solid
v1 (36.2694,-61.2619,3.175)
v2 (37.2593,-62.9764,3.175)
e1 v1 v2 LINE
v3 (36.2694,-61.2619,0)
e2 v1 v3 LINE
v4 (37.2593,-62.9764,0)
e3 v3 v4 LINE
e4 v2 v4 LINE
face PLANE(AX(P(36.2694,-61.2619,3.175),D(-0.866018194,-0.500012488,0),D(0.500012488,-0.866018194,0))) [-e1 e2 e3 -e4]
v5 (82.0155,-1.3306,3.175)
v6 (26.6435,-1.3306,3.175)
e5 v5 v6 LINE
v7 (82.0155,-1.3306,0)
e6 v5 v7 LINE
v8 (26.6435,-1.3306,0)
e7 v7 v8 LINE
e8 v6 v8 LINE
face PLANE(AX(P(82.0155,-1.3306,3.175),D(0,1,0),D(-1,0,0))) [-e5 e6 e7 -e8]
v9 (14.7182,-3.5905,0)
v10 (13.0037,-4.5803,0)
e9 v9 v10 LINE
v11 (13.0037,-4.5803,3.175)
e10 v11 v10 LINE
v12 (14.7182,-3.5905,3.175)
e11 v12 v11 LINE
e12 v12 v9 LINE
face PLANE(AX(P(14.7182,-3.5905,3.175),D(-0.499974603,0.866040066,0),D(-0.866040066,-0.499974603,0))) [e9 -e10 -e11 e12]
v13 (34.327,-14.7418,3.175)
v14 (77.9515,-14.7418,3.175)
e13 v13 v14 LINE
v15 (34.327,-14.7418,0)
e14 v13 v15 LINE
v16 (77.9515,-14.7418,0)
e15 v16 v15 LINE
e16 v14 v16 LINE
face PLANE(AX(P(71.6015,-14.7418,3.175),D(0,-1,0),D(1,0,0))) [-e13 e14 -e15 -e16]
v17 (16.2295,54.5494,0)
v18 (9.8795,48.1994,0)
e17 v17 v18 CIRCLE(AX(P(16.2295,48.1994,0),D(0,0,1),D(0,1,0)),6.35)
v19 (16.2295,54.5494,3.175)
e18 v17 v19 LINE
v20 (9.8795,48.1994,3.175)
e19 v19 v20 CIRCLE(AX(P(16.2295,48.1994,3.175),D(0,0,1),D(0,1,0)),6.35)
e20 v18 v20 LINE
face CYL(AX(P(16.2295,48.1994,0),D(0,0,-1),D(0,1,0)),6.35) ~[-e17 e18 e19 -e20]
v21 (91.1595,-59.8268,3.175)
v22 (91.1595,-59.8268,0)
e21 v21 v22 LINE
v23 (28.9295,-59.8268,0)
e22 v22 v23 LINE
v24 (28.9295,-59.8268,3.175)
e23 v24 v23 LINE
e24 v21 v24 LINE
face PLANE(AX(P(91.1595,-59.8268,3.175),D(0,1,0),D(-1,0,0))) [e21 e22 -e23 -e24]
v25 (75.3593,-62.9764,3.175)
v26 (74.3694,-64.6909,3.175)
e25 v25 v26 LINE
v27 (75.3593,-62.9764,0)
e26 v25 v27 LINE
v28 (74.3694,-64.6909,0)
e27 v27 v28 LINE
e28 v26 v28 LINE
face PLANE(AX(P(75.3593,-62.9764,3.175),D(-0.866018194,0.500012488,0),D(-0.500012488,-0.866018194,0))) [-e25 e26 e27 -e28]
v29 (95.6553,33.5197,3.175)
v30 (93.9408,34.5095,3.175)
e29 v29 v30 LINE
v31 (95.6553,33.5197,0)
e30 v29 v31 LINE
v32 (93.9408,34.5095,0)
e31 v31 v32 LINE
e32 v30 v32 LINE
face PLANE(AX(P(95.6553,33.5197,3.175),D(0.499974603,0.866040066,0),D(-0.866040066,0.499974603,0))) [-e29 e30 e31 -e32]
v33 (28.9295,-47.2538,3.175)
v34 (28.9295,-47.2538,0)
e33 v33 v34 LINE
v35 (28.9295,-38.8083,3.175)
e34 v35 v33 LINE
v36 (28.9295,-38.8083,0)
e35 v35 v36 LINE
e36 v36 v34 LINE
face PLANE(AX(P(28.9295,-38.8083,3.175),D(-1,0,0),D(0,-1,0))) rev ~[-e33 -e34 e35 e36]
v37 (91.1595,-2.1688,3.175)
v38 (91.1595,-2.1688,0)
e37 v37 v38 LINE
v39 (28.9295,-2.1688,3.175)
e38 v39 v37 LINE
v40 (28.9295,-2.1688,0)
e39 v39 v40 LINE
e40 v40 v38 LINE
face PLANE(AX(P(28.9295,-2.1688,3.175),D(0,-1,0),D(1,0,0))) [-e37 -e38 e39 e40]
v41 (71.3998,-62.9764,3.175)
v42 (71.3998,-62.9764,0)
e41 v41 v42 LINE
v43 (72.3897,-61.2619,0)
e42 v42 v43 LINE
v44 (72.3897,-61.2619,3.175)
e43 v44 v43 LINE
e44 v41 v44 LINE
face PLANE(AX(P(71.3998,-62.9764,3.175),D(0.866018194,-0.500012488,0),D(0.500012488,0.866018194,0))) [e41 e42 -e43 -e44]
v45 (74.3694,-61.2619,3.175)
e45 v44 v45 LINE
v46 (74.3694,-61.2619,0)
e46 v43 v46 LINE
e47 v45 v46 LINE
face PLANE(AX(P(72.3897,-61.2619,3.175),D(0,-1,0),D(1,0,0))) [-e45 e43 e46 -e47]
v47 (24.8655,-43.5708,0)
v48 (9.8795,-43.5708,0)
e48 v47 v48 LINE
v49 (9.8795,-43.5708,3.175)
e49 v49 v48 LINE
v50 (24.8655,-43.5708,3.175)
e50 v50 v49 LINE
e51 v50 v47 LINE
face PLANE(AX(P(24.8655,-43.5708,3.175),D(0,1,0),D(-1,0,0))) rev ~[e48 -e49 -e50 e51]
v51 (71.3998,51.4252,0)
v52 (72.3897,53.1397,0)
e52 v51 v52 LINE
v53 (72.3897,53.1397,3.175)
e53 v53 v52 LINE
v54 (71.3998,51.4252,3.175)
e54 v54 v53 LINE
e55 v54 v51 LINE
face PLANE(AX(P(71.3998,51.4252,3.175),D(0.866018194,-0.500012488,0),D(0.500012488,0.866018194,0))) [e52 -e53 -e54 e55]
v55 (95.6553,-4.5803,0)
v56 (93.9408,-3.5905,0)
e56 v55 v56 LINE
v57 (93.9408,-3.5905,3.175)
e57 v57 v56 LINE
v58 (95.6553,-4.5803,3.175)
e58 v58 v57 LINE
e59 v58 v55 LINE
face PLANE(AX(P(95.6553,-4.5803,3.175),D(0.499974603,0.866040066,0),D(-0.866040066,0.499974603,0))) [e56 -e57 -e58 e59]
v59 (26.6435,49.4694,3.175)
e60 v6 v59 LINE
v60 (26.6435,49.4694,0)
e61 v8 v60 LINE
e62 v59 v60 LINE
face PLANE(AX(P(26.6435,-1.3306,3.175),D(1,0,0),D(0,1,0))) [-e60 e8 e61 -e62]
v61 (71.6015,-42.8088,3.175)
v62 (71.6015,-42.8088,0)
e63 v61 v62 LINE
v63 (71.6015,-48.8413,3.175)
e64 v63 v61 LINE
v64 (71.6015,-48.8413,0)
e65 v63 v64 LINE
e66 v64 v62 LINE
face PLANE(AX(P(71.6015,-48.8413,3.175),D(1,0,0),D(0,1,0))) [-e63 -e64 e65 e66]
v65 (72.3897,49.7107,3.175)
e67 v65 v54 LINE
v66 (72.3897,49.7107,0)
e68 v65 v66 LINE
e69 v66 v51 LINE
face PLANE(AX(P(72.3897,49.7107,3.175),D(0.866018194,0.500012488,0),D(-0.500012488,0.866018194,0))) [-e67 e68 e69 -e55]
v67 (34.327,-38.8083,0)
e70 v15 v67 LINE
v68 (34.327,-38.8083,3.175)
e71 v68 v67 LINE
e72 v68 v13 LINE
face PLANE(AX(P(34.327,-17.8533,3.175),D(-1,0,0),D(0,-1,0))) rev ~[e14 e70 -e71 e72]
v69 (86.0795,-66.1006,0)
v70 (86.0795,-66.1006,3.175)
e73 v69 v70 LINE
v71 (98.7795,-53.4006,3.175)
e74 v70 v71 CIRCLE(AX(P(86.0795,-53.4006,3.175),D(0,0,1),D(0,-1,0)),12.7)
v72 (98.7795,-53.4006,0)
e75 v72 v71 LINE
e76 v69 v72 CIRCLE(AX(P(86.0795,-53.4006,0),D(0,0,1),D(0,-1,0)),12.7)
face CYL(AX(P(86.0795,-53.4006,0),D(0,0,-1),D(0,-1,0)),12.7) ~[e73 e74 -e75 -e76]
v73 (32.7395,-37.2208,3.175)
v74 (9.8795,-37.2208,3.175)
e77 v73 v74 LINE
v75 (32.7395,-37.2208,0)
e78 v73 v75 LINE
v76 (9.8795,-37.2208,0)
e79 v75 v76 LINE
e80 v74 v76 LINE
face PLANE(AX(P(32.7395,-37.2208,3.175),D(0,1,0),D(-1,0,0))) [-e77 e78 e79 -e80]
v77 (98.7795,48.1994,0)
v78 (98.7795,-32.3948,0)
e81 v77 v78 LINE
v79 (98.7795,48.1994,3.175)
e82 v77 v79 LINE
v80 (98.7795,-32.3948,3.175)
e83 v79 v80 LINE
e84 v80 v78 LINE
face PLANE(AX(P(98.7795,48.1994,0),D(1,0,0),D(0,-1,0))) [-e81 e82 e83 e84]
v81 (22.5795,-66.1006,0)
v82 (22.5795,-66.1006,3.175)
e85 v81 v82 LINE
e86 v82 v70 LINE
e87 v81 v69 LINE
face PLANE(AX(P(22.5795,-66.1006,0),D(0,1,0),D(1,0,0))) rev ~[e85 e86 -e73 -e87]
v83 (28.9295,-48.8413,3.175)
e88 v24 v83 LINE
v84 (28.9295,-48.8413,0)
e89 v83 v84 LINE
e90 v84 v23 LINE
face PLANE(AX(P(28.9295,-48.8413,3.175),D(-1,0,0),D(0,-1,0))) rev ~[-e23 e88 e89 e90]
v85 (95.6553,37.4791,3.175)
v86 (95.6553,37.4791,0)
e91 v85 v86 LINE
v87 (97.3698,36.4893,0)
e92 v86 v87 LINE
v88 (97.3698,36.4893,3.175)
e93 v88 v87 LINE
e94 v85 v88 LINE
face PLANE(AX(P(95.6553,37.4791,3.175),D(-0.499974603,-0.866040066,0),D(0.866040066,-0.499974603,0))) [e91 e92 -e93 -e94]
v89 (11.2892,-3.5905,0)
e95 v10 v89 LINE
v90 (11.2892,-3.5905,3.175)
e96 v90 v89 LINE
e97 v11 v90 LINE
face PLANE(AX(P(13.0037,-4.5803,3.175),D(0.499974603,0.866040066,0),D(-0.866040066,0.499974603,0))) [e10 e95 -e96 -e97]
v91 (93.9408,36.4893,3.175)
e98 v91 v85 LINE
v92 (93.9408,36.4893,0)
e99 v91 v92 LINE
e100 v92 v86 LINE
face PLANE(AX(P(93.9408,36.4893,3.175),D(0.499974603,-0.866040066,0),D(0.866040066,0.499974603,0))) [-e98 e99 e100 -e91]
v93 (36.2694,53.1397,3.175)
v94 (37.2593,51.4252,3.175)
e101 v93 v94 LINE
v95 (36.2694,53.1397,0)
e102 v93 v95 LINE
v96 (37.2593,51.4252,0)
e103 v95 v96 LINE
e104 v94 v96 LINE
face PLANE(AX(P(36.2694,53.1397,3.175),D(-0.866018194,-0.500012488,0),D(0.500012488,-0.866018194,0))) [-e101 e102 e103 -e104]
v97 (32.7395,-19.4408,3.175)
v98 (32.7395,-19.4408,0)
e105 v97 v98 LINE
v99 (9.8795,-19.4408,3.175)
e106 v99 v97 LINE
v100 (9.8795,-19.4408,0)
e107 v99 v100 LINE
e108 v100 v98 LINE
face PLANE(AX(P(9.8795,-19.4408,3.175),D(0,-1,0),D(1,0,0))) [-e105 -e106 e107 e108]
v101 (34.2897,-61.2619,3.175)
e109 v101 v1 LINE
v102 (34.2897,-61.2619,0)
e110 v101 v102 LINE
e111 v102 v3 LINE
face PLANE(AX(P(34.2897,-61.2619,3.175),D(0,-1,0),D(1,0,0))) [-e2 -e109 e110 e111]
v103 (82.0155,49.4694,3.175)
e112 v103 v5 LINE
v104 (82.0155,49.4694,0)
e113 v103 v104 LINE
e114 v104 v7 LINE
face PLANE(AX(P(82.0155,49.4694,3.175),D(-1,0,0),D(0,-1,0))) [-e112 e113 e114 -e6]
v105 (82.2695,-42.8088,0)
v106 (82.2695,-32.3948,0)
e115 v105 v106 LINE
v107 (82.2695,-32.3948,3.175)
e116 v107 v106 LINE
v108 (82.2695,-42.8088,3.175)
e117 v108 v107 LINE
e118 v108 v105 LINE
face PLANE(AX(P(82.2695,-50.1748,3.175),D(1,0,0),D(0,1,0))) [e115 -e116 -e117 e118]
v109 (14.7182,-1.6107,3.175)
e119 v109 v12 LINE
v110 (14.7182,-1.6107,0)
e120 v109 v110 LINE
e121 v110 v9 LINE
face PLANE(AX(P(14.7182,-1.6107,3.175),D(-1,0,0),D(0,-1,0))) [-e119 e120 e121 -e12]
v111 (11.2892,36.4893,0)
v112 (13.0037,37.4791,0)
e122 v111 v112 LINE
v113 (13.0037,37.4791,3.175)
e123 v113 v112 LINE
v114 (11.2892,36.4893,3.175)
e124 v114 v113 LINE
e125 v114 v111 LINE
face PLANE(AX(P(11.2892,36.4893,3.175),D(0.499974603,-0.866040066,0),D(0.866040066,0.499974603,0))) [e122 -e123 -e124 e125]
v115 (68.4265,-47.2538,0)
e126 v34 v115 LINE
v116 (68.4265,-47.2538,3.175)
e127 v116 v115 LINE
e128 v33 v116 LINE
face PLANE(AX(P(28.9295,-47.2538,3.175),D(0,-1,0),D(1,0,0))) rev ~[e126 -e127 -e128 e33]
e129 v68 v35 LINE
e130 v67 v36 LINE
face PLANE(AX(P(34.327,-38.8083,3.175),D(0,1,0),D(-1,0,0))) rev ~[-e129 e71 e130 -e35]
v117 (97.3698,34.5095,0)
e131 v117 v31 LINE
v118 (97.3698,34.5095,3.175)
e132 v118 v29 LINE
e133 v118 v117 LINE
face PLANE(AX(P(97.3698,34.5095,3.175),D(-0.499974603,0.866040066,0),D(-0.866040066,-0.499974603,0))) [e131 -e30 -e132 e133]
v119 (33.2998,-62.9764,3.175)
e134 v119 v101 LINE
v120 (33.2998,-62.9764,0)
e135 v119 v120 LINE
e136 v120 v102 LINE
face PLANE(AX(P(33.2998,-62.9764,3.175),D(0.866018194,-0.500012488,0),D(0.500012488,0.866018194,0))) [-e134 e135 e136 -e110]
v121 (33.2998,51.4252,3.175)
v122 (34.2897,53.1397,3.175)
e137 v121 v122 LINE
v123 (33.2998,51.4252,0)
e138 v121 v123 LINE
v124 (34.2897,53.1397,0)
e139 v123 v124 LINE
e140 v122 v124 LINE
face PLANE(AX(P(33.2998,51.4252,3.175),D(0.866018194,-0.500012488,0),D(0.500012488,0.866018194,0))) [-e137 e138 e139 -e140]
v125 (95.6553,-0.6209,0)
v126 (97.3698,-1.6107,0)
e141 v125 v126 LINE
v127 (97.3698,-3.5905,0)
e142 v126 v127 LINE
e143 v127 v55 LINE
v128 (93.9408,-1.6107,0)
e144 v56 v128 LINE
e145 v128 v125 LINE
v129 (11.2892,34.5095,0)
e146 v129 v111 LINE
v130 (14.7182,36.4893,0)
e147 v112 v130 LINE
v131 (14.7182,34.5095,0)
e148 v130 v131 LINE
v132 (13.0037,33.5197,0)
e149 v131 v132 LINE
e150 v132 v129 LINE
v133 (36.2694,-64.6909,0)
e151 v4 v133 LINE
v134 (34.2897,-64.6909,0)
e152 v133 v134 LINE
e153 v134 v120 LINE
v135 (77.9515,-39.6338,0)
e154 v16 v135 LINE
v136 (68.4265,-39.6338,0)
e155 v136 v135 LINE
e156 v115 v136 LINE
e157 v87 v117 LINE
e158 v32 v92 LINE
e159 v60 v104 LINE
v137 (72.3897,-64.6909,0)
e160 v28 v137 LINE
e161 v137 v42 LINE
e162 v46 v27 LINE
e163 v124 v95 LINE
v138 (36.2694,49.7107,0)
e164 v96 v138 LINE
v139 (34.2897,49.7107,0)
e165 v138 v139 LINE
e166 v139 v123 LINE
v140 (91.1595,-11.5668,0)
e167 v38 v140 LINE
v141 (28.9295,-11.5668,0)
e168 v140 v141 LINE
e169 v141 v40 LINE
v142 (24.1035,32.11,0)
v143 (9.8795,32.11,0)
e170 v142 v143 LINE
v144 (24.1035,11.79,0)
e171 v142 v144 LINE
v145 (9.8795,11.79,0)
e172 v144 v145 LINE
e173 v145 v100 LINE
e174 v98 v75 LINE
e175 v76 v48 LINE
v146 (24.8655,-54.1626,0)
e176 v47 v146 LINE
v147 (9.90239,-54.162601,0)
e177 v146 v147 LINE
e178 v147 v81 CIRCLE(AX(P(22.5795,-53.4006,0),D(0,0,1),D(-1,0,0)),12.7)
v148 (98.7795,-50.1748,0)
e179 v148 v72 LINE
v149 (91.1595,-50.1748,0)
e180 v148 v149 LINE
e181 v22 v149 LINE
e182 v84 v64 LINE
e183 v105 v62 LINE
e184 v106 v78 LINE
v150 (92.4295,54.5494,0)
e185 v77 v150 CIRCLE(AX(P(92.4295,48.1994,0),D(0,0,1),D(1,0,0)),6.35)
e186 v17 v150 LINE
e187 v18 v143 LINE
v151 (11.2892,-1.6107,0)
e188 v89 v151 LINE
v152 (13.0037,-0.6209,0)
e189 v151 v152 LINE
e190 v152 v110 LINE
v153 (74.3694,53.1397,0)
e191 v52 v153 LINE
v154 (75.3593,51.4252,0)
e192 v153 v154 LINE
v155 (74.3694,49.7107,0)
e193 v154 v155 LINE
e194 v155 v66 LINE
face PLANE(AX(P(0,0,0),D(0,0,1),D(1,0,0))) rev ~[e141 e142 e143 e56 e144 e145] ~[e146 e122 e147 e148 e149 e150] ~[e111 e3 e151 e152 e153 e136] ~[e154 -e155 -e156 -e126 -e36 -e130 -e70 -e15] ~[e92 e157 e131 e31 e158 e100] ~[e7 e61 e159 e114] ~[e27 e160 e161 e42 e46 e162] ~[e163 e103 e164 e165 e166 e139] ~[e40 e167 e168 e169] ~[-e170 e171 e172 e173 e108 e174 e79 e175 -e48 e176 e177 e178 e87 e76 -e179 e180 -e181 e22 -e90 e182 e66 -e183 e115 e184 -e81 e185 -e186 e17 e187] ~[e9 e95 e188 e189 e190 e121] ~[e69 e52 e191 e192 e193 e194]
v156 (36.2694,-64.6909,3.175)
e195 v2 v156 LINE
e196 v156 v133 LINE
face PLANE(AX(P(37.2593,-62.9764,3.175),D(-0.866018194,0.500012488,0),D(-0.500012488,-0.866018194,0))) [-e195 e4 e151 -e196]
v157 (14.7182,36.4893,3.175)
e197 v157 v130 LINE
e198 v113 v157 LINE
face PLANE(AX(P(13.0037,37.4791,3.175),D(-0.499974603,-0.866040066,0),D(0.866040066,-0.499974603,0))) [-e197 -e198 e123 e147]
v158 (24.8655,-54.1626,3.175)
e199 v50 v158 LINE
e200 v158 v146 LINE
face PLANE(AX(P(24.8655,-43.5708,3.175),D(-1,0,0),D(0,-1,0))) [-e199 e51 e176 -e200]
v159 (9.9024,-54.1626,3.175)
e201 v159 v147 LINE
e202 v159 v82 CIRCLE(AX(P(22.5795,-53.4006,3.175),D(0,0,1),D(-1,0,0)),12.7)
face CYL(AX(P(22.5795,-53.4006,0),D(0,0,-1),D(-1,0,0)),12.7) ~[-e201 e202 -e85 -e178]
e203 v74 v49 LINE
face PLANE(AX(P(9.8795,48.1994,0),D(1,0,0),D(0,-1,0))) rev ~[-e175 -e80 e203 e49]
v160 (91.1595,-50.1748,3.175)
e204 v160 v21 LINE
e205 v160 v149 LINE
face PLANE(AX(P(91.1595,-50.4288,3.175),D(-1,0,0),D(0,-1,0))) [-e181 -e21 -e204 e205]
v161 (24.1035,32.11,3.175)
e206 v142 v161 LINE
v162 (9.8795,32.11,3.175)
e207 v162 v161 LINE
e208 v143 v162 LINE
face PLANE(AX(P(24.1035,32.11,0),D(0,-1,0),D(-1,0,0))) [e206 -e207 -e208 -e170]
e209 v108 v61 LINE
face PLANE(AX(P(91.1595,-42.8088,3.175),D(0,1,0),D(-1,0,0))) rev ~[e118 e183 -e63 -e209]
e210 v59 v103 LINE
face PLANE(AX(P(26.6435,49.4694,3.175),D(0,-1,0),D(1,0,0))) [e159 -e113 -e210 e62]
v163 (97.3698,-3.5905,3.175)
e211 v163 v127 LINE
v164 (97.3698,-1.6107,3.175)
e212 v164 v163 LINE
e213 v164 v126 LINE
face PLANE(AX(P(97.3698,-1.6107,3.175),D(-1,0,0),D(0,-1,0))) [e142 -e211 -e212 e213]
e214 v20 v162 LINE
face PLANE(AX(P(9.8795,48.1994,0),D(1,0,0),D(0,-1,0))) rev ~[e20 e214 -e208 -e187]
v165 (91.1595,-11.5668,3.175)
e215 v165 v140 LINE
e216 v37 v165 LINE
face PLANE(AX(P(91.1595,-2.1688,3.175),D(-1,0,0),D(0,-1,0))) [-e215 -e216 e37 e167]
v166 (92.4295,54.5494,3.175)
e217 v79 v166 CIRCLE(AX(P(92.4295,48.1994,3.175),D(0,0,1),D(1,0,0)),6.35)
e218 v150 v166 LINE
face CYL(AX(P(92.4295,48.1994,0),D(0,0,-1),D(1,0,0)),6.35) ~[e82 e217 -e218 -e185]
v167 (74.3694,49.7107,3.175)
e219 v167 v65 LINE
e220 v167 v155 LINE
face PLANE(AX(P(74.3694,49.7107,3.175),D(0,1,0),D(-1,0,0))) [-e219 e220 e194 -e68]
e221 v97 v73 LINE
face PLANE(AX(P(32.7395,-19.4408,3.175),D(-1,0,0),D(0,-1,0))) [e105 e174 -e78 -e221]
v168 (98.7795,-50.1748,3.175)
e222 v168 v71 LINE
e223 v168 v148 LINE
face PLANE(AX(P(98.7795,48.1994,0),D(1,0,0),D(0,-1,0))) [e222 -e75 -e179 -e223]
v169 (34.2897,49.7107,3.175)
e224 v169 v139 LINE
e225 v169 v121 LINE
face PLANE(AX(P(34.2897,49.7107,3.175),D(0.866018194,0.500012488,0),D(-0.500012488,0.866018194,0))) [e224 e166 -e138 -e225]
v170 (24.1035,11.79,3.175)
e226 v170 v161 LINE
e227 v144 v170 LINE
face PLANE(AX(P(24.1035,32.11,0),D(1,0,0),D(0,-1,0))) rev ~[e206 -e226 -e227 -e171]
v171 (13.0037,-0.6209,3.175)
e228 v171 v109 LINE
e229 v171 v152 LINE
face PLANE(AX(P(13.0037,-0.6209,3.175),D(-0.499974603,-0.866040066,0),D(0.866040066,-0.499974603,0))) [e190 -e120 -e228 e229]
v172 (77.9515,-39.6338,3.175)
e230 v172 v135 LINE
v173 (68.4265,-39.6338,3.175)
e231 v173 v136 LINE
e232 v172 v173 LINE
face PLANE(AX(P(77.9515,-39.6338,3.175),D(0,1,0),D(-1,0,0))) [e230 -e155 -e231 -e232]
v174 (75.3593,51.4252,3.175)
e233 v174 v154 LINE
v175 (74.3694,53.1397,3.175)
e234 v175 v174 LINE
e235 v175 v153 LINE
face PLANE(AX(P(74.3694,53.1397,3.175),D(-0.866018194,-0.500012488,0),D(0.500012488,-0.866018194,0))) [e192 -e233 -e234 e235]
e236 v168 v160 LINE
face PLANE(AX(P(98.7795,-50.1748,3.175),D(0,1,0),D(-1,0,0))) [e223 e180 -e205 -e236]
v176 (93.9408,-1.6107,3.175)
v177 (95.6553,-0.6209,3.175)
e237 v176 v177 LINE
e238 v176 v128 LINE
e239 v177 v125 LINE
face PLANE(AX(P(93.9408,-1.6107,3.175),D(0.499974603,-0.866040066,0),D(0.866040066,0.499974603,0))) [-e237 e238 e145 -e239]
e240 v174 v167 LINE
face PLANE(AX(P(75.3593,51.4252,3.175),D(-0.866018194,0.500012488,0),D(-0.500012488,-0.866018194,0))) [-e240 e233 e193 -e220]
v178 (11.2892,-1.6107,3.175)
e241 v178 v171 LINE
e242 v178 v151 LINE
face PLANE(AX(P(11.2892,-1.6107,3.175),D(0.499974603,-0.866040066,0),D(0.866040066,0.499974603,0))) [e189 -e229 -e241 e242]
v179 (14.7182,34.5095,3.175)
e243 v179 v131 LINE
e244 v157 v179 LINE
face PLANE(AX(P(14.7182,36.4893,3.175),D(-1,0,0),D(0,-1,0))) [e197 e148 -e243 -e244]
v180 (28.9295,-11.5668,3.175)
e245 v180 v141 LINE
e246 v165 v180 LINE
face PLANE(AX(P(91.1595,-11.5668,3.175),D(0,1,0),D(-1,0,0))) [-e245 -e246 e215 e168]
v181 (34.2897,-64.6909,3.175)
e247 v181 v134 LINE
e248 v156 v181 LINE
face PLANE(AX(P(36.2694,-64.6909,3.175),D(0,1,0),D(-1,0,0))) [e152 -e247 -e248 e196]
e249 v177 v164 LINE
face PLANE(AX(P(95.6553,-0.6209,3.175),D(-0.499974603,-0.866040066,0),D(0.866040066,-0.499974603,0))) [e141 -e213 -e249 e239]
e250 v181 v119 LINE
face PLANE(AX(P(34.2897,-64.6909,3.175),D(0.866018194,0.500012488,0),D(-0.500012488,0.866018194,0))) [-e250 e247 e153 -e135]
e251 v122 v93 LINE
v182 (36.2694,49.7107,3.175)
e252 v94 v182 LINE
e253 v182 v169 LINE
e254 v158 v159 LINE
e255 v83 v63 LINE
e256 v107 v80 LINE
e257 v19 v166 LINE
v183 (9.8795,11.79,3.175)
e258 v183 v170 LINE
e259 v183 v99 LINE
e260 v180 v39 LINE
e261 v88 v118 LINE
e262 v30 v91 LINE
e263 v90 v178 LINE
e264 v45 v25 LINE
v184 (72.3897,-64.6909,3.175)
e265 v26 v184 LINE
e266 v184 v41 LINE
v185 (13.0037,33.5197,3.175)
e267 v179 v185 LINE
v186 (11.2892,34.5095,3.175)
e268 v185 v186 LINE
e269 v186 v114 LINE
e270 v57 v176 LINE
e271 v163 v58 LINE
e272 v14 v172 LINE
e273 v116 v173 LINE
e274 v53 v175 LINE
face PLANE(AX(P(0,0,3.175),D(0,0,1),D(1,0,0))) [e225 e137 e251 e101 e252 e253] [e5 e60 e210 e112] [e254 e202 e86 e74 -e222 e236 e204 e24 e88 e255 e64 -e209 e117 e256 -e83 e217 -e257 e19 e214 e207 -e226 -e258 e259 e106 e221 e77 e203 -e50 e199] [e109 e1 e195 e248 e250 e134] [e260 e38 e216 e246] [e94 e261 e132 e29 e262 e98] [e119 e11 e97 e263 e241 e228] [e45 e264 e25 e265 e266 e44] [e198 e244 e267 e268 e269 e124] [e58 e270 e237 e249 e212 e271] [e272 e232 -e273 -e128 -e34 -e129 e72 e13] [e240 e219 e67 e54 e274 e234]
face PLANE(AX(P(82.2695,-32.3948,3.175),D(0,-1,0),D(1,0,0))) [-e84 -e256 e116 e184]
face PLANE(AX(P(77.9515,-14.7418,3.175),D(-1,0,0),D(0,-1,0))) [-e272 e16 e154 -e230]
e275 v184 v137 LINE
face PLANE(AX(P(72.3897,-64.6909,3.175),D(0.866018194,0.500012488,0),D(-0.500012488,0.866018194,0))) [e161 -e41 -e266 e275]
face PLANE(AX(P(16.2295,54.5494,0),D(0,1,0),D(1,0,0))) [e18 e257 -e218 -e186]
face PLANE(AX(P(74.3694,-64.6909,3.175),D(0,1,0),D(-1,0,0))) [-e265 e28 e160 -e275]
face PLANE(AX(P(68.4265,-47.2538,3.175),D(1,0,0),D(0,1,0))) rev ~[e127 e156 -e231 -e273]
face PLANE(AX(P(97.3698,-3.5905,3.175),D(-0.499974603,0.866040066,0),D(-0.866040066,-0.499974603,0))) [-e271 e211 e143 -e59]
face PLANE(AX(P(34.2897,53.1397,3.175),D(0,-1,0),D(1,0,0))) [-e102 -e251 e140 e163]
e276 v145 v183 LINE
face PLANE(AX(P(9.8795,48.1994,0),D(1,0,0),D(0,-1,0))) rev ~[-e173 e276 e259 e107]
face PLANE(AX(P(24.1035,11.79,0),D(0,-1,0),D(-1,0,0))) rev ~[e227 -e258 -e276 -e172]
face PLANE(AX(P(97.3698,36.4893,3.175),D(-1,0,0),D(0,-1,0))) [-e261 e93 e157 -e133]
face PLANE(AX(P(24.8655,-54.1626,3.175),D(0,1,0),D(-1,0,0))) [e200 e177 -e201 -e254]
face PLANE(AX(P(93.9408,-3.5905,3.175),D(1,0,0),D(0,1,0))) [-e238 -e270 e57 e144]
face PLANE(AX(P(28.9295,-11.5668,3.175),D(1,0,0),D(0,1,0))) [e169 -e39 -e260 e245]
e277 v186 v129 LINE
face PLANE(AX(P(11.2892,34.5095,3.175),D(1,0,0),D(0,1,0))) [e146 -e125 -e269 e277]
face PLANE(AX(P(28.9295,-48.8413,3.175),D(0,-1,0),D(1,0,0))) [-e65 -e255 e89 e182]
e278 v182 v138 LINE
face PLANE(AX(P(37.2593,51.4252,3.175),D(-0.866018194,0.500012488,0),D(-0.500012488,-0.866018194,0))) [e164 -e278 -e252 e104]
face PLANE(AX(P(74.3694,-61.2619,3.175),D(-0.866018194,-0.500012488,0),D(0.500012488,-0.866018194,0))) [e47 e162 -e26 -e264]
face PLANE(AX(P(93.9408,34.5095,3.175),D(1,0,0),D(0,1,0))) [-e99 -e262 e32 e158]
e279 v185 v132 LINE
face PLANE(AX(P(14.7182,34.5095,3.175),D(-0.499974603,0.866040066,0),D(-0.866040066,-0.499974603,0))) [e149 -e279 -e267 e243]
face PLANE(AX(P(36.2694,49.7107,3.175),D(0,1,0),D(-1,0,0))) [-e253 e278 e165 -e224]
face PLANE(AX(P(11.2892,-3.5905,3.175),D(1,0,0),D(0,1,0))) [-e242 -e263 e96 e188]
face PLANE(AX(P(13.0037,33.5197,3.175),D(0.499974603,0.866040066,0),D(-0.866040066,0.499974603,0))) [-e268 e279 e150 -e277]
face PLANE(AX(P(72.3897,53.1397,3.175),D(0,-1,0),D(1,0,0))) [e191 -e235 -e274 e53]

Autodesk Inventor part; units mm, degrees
ref_plane "YZ Plane" through (0, 0, 0) normal (1, 0, 0) x (0, 1, 0)
ref_plane "XZ Plane" through (0, 0, 0) normal (0, 1, 0) x (-1, 0, 0)
ref_plane "XY Plane" through (0, 0, 0) normal (0, 0, 1) x (1, 0, 0)
sketch "Sketch1" plane through (0, 0, 0) normal (0, 0, 1) x (1, 0, 0)
  line L0 (9.8795, 48.1994) -> (9.8795, -53.4006)
  line L1 (16.2295, 54.5494) -> (92.4295, 54.5494)
  line L2 (98.7795, 48.1994) -> (98.7795, -53.4006)
  line L3 (22.5795, -66.1006) -> (86.0795, -66.1006)
  arc A0 (9.8795, -53.4006) -> (22.5795, -66.1006) centre (22.5795, -53.4006) ccw
  arc A1 (16.2295, 54.5494) -> (9.8795, 48.1994) centre (16.2295, 48.1994) ccw
  arc A2 (98.7795, 48.1994) -> (92.4295, 54.5494) centre (92.4295, 48.1994) ccw
  arc A3 (86.0795, -66.1006) -> (98.7795, -53.4006) centre (86.0795, -53.4006) ccw
  point P0 (0, 0)
  dimension "d0" = 12.7
  dimension "d1" = 6.35
  dimension "d2" = 120.65
  dimension "d3" = 88.9
extrude "Extrusion1" add sketch "Sketch1" along normal blind 3.175
sketch "Sketch2" plane through (0, 0, 3.175) normal (0, 0, 1) x (1, 0, 0)
  line L0 (9.8795, -53.4006) -> (9.8795, 48.1994) projected
  line L1 (98.7795, 48.1994) -> (98.7795, -53.4006) projected
  line L2 (16.2295, 54.5494) -> (92.4295, 54.5494) projected
  line L3 (26.6435, 49.4694) -> (82.0155, 49.4694)
  line L4 (82.0155, 49.4694) -> (82.0155, -1.3306)
  line L5 (82.0155, -1.3306) -> (26.6435, -1.3306)
  line L6 (26.6435, -1.3306) -> (26.6435, 49.4694)
  point P0 (0, 0)
  dimension "d13" = 16.764
  dimension "d14" = 16.764
  dimension "d15" = 5.08
  dimension "d16" = 55.88
extrude "Extrusion2" cut sketch "Sketch2" against normal through all
sketch "Sketch3" plane through (0, 0, 3.175) normal (0, 0, 1) x (1, 0, 0)
  line L0 (9.8795, -53.4006) -> (9.8795, 48.1994) projected
  line L1 (86.0795, -66.1006) -> (22.5795, -66.1006) projected
  line L2 (9.8795, -19.4408) -> (32.7395, -19.4408)
  line L3 (32.7395, -19.4408) -> (32.7395, -37.2208)
  line L4 (32.7395, -37.2208) -> (9.8795, -37.2208)
  point P0 (0, 0)
  dimension "d20" = 28.8798
  dimension "d21" = 46.6598
  dimension "d22" = 22.86
extrude "Extrusion3" cut sketch "Sketch3" against normal through all
sketch "Sketch4" plane through (0, 0, 3.175) normal (0, 0, 1) x (1, 0, 0)
  line L0 (9.8795, -53.4006) -> (9.8795, -37.2208) projected
  arc A0 (9.8795, -53.4006) -> (22.5795, -66.1006) centre (22.5795, -53.4006) ccw projected
  line L1 (86.0795, -66.1006) -> (22.5795, -66.1006) projected
  line L2 (24.8655, -43.5708) -> (24.8655, -54.1626)
  line L3 (24.8655, -43.5708) -> (9.8795, -43.5708)
  line L4 (24.8655, -54.1626) -> (9.9024, -54.1626)
  point P0 (0, 0)
  dimension "d26" = 22.5298
  dimension "d27" = 14.986
  dimension "d28" = 11.938
extrude "Extrusion4" cut sketch "Sketch4" against normal through all
sketch "Sketch5" plane through (0, 0, 3.175) normal (0, 0, 1) x (1, 0, 0)
  line L0 (86.0795, -66.1006) -> (22.5795, -66.1006) projected
  line L1 (9.8795, -19.4408) -> (9.8795, 48.1994) projected
  line L2 (9.8795, -43.5708) -> (9.8795, -37.2208) projected
  line L3 (28.9295, -2.1688) -> (91.1595, -2.1688)
  line L4 (91.1595, -2.1688) -> (91.1595, -11.5668)
  line L5 (91.1595, -11.5668) -> (28.9295, -11.5668)
  line L6 (28.9295, -11.5668) -> (28.9295, -2.1688)
  line L7 (28.9295, -50.4288) -> (91.1595, -50.4288)
  line L8 (91.1595, -50.4288) -> (91.1595, -59.8268)
  line L9 (91.1595, -59.8268) -> (28.9295, -59.8268)
  line L10 (28.9295, -59.8268) -> (28.9295, -50.4288)
  point P0 (0, 0)
  dimension "d31" = 54.5338
  dimension "d32" = 9.398
  dimension "d33" = 62.23
  dimension "d34" = 19.05
  dimension "d35" = 19.05
  dimension "d36" = 6.2738
extrude "Extrusion5" cut sketch "Sketch5" against normal through all
sketch "Sketch6" plane through (0, 0, 3.175) normal (0, 0, 1) x (1, 0, 0)
  line L0 (71.6015, -11.5668) -> (28.9295, -11.5668)
  line L1 (28.9295, -50.4288) -> (71.6015, -50.4288)
  line L2 (71.6015, -50.4288) -> (71.6015, -11.5668)
  line L3 (28.9295, -59.8268) -> (28.9295, -50.4288) projected
  line L4 (28.9295, -11.5668) -> (28.9295, -50.4288)
  line L5 (28.9295, -47.2538) -> (68.4265, -47.2538)
  line L6 (9.8795, -19.4408) -> (32.7395, -19.4408) projected
  line L7 (32.7395, -19.4408) -> (32.7395, -37.2208) projected
  line L8 (32.7395, -37.2208) -> (9.8795, -37.2208) projected
  line L9 (28.9295, -17.8533) -> (34.327, -17.8533)
  line L10 (34.327, -17.8533) -> (34.327, -38.8083)
  line L11 (34.327, -38.8083) -> (28.9295, -38.8083)
  line L12 (91.1595, -11.5668) -> (28.9295, -11.5668) projected
  line L13 (28.9295, -50.4288) -> (91.1595, -50.4288) projected
  line L14 (91.1595, -50.4288) -> (91.1595, -42.8088)
  line L15 (91.1595, -42.8088) -> (71.6015, -42.8088)
  line L16 (28.9295, -14.7418) -> (71.6015, -14.7418)
  line L17 (28.9295, -48.8413) -> (71.6015, -48.8413)
  line L18 (68.4265, -47.2538) -> (68.4265, -39.6338)
  line L19 (68.4265, -39.6338) -> (71.6015, -39.6338)
  line L20 (91.1595, -50.4288) -> (71.6015, -50.4288)
  line L21 (98.7795, 48.1994) -> (98.7795, -53.4006) projected
  line L22 (34.327, -17.8533) -> (34.327, -14.7418)
  point P0 (0, 0)
  dimension "d46" = 3.175
  dimension "d49" = 1.5875
  dimension "d50" = 1.5875
  dimension "d51" = 1.5875
  dimension "d54" = 7.62
  dimension "d55" = 3.175
  dimension "d57" = 1.5875
  dimension "d58" = 3.175
  dimension "d61" = 3.175
  dimension "d72" = 27.178
extrude "Extrusion11" cut sketch "Sketch6" against normal through all contours L2 L19 L18 L5 L4 L11 L10 L22 L16 | L15 L14 L13 L2 | L2 L1 L4 L17
sketch "Sketch7" plane through (0, 0, 3.175) normal (0, 0, 1) x (1, 0, 0)
  line L0 (71.6015, -14.7418) -> (71.6015, -39.6338) projected
  line L1 (71.6015, -14.7418) -> (77.9515, -14.7418)
  line L2 (77.9515, -14.7418) -> (77.9515, -39.6338)
  line L3 (77.9515, -39.6338) -> (71.6015, -39.6338)
  point P0 (0, 0)
  dimension "d64" = 6.35
extrude "Extrusion12" cut sketch "Sketch7" against normal through all
sketch "Sketch8" plane through (0, 0, 3.175) normal (0, 0, 1) x (1, 0, 0)
  line L0 (86.0795, -66.1006) -> (22.5795, -66.1006) projected
  line L1 (98.7795, 48.1994) -> (98.7795, -53.4006) projected
  line L2 (82.2695, -32.3948) -> (98.7795, -32.3948)
  line L3 (98.7795, -32.3948) -> (98.7795, -50.1748)
  line L4 (98.7795, -50.1748) -> (82.2695, -50.1748)
  line L5 (82.2695, -50.1748) -> (82.2695, -32.3948)
  point P0 (0, 0)
  dimension "d67" = 15.9258
  dimension "d68" = 17.78
  dimension "d69" = 16.51
extrude "Extrusion13" cut sketch "Sketch8" against normal through all
sketch "Sketch9" plane through (0, 0, 3.175) normal (0, 0, 1) x (1, 0, 0)
  line L0 (98.7795, 48.1994) -> (98.7795, -32.3948) projected
  line L1 (16.2295, 54.5494) -> (92.4295, 54.5494) projected
  line L2 (9.8795, -19.4408) -> (9.8795, 48.1994) projected
  line L3 (86.0795, -66.1006) -> (22.5795, -66.1006) projected
  line L4 (36.2694, 49.7107) -> (34.2897, 49.7107)
  line L5 (34.2897, 49.7107) -> (33.2998, 51.4252)
  line L6 (33.2998, 51.4252) -> (34.2897, 53.1397)
  line L7 (34.2897, 53.1397) -> (36.2694, 53.1397)
  line L8 (36.2694, 53.1397) -> (37.2593, 51.4252)
  line L9 (37.2593, 51.4252) -> (36.2694, 49.7107)
  line L10 (75.3593, 51.4252) -> (74.3694, 49.7107)
  line L11 (74.3694, 49.7107) -> (72.3897, 49.7107)
  line L12 (72.3897, 49.7107) -> (71.3998, 51.4252)
  line L13 (71.3998, 51.4252) -> (72.3897, 53.1397)
  line L14 (72.3897, 53.1397) -> (74.3694, 53.1397)
  line L15 (74.3694, 53.1397) -> (75.3593, 51.4252)
  line L16 (97.3698, 34.5095) -> (95.6553, 33.5197)
  line L17 (95.6553, 33.5197) -> (93.9408, 34.5095)
  line L18 (93.9408, 34.5095) -> (93.9408, 36.4893)
  line L19 (93.9408, 36.4893) -> (95.6553, 37.4791)
  line L20 (95.6553, 37.4791) -> (97.3698, 36.4893)
  line L21 (97.3698, 36.4893) -> (97.3698, 34.5095)
  line L22 (37.2593, -62.9764) -> (36.2694, -64.6909)
  line L23 (36.2694, -64.6909) -> (34.2897, -64.6909)
  line L24 (34.2897, -64.6909) -> (33.2998, -62.9764)
  line L25 (33.2998, -62.9764) -> (34.2897, -61.2619)
  line L26 (34.2897, -61.2619) -> (36.2694, -61.2619)
  line L27 (36.2694, -61.2619) -> (37.2593, -62.9764)
  line L28 (75.3593, -62.9764) -> (74.3694, -64.6909)
  line L29 (74.3694, -64.6909) -> (72.3897, -64.6909)
  line L30 (72.3897, -64.6909) -> (71.3998, -62.9764)
  line L31 (71.3998, -62.9764) -> (72.3897, -61.2619)
  line L32 (72.3897, -61.2619) -> (74.3694, -61.2619)
  line L33 (74.3694, -61.2619) -> (75.3593, -62.9764)
  line L34 (97.3698, -3.5905) -> (95.6553, -4.5803)
  line L35 (95.6553, -4.5803) -> (93.9408, -3.5905)
  line L36 (93.9408, -3.5905) -> (93.9408, -1.6107)
  line L37 (93.9408, -1.6107) -> (95.6553, -0.6209)
  line L38 (95.6553, -0.6209) -> (97.3698, -1.6107)
  line L39 (97.3698, -1.6107) -> (97.3698, -3.5905)
  line L40 (14.7182, 34.5095) -> (13.0037, 33.5197)
  line L41 (13.0037, 33.5197) -> (11.2892, 34.5095)
  line L42 (11.2892, 34.5095) -> (11.2892, 36.4893)
  line L43 (11.2892, 36.4893) -> (13.0037, 37.4791)
  line L44 (13.0037, 37.4791) -> (14.7182, 36.4893)
  line L45 (14.7182, 36.4893) -> (14.7182, 34.5095)
  line L46 (14.7182, -1.6107) -> (14.7182, -3.5905)
  line L47 (14.7182, -3.5905) -> (13.0037, -4.5803)
  line L48 (13.0037, -4.5803) -> (11.2892, -3.5905)
  line L49 (11.2892, -3.5905) -> (11.2892, -1.6107)
  line L50 (11.2892, -1.6107) -> (13.0037, -0.6209)
  line L51 (13.0037, -0.6209) -> (14.7182, -1.6107)
  point P0 (0, 0)
  point P1 (35.2795, 51.4252)
  point P2 (73.3795, 51.4252)
  point P3 (95.6553, 35.4994)
  point P4 (35.2795, -62.9764)
  point P5 (73.3795, -62.9764)
  point P6 (95.6553, -2.6006)
  point P7 (13.0037, 35.4994)
  point P8 (13.0037, -2.6006)
  dimension "d73" = 3.429
  dimension "d74" = 3.1242
  dimension "d75" = 3.1242
  dimension "d76" = 3.1242
  dimension "d77" = 3.1242
  dimension "d78" = 25.4
  dimension "d79" = 19.05
  dimension "d80" = 38.1
  dimension "d81" = 38.1
extrude "Extrusion14" cut sketch "Sketch9" against normal through all
sketch "Sketch10" plane through (0, 0, 0) normal (0, 0, -1) x (-1, 0, 0)
  line L0 (-11.2892, 36.4893) -> (-11.2892, 34.5095) projected
  line L1 (-9.8795, 48.1994) -> (-9.8795, -19.4408) projected
  line L2 (-26.6435, 49.4694) -> (-26.6435, -1.3306) projected
  line L3 (-24.1035, 32.11) -> (-24.1035, 11.79)
  line L4 (-24.1035, 32.11) -> (-9.8795, 32.11)
  line L5 (-24.1035, 11.79) -> (-9.8795, 11.79)
  point P0 (-13.0037, 33.5197)
  point P1 (0, 0)
  dimension "d84" = 2.54
  dimension "d86" = 1.4097
  dimension "d87" = 1.4097
  dimension "d88" = 20.32
extrude "Extrusion15" cut sketch "Sketch10" against normal through all
equation "\"d14\" = d13"
equation "\"d35\" = d34"
equation "\"d87\" = d86"
properties part number "beagle_spacer_top"
